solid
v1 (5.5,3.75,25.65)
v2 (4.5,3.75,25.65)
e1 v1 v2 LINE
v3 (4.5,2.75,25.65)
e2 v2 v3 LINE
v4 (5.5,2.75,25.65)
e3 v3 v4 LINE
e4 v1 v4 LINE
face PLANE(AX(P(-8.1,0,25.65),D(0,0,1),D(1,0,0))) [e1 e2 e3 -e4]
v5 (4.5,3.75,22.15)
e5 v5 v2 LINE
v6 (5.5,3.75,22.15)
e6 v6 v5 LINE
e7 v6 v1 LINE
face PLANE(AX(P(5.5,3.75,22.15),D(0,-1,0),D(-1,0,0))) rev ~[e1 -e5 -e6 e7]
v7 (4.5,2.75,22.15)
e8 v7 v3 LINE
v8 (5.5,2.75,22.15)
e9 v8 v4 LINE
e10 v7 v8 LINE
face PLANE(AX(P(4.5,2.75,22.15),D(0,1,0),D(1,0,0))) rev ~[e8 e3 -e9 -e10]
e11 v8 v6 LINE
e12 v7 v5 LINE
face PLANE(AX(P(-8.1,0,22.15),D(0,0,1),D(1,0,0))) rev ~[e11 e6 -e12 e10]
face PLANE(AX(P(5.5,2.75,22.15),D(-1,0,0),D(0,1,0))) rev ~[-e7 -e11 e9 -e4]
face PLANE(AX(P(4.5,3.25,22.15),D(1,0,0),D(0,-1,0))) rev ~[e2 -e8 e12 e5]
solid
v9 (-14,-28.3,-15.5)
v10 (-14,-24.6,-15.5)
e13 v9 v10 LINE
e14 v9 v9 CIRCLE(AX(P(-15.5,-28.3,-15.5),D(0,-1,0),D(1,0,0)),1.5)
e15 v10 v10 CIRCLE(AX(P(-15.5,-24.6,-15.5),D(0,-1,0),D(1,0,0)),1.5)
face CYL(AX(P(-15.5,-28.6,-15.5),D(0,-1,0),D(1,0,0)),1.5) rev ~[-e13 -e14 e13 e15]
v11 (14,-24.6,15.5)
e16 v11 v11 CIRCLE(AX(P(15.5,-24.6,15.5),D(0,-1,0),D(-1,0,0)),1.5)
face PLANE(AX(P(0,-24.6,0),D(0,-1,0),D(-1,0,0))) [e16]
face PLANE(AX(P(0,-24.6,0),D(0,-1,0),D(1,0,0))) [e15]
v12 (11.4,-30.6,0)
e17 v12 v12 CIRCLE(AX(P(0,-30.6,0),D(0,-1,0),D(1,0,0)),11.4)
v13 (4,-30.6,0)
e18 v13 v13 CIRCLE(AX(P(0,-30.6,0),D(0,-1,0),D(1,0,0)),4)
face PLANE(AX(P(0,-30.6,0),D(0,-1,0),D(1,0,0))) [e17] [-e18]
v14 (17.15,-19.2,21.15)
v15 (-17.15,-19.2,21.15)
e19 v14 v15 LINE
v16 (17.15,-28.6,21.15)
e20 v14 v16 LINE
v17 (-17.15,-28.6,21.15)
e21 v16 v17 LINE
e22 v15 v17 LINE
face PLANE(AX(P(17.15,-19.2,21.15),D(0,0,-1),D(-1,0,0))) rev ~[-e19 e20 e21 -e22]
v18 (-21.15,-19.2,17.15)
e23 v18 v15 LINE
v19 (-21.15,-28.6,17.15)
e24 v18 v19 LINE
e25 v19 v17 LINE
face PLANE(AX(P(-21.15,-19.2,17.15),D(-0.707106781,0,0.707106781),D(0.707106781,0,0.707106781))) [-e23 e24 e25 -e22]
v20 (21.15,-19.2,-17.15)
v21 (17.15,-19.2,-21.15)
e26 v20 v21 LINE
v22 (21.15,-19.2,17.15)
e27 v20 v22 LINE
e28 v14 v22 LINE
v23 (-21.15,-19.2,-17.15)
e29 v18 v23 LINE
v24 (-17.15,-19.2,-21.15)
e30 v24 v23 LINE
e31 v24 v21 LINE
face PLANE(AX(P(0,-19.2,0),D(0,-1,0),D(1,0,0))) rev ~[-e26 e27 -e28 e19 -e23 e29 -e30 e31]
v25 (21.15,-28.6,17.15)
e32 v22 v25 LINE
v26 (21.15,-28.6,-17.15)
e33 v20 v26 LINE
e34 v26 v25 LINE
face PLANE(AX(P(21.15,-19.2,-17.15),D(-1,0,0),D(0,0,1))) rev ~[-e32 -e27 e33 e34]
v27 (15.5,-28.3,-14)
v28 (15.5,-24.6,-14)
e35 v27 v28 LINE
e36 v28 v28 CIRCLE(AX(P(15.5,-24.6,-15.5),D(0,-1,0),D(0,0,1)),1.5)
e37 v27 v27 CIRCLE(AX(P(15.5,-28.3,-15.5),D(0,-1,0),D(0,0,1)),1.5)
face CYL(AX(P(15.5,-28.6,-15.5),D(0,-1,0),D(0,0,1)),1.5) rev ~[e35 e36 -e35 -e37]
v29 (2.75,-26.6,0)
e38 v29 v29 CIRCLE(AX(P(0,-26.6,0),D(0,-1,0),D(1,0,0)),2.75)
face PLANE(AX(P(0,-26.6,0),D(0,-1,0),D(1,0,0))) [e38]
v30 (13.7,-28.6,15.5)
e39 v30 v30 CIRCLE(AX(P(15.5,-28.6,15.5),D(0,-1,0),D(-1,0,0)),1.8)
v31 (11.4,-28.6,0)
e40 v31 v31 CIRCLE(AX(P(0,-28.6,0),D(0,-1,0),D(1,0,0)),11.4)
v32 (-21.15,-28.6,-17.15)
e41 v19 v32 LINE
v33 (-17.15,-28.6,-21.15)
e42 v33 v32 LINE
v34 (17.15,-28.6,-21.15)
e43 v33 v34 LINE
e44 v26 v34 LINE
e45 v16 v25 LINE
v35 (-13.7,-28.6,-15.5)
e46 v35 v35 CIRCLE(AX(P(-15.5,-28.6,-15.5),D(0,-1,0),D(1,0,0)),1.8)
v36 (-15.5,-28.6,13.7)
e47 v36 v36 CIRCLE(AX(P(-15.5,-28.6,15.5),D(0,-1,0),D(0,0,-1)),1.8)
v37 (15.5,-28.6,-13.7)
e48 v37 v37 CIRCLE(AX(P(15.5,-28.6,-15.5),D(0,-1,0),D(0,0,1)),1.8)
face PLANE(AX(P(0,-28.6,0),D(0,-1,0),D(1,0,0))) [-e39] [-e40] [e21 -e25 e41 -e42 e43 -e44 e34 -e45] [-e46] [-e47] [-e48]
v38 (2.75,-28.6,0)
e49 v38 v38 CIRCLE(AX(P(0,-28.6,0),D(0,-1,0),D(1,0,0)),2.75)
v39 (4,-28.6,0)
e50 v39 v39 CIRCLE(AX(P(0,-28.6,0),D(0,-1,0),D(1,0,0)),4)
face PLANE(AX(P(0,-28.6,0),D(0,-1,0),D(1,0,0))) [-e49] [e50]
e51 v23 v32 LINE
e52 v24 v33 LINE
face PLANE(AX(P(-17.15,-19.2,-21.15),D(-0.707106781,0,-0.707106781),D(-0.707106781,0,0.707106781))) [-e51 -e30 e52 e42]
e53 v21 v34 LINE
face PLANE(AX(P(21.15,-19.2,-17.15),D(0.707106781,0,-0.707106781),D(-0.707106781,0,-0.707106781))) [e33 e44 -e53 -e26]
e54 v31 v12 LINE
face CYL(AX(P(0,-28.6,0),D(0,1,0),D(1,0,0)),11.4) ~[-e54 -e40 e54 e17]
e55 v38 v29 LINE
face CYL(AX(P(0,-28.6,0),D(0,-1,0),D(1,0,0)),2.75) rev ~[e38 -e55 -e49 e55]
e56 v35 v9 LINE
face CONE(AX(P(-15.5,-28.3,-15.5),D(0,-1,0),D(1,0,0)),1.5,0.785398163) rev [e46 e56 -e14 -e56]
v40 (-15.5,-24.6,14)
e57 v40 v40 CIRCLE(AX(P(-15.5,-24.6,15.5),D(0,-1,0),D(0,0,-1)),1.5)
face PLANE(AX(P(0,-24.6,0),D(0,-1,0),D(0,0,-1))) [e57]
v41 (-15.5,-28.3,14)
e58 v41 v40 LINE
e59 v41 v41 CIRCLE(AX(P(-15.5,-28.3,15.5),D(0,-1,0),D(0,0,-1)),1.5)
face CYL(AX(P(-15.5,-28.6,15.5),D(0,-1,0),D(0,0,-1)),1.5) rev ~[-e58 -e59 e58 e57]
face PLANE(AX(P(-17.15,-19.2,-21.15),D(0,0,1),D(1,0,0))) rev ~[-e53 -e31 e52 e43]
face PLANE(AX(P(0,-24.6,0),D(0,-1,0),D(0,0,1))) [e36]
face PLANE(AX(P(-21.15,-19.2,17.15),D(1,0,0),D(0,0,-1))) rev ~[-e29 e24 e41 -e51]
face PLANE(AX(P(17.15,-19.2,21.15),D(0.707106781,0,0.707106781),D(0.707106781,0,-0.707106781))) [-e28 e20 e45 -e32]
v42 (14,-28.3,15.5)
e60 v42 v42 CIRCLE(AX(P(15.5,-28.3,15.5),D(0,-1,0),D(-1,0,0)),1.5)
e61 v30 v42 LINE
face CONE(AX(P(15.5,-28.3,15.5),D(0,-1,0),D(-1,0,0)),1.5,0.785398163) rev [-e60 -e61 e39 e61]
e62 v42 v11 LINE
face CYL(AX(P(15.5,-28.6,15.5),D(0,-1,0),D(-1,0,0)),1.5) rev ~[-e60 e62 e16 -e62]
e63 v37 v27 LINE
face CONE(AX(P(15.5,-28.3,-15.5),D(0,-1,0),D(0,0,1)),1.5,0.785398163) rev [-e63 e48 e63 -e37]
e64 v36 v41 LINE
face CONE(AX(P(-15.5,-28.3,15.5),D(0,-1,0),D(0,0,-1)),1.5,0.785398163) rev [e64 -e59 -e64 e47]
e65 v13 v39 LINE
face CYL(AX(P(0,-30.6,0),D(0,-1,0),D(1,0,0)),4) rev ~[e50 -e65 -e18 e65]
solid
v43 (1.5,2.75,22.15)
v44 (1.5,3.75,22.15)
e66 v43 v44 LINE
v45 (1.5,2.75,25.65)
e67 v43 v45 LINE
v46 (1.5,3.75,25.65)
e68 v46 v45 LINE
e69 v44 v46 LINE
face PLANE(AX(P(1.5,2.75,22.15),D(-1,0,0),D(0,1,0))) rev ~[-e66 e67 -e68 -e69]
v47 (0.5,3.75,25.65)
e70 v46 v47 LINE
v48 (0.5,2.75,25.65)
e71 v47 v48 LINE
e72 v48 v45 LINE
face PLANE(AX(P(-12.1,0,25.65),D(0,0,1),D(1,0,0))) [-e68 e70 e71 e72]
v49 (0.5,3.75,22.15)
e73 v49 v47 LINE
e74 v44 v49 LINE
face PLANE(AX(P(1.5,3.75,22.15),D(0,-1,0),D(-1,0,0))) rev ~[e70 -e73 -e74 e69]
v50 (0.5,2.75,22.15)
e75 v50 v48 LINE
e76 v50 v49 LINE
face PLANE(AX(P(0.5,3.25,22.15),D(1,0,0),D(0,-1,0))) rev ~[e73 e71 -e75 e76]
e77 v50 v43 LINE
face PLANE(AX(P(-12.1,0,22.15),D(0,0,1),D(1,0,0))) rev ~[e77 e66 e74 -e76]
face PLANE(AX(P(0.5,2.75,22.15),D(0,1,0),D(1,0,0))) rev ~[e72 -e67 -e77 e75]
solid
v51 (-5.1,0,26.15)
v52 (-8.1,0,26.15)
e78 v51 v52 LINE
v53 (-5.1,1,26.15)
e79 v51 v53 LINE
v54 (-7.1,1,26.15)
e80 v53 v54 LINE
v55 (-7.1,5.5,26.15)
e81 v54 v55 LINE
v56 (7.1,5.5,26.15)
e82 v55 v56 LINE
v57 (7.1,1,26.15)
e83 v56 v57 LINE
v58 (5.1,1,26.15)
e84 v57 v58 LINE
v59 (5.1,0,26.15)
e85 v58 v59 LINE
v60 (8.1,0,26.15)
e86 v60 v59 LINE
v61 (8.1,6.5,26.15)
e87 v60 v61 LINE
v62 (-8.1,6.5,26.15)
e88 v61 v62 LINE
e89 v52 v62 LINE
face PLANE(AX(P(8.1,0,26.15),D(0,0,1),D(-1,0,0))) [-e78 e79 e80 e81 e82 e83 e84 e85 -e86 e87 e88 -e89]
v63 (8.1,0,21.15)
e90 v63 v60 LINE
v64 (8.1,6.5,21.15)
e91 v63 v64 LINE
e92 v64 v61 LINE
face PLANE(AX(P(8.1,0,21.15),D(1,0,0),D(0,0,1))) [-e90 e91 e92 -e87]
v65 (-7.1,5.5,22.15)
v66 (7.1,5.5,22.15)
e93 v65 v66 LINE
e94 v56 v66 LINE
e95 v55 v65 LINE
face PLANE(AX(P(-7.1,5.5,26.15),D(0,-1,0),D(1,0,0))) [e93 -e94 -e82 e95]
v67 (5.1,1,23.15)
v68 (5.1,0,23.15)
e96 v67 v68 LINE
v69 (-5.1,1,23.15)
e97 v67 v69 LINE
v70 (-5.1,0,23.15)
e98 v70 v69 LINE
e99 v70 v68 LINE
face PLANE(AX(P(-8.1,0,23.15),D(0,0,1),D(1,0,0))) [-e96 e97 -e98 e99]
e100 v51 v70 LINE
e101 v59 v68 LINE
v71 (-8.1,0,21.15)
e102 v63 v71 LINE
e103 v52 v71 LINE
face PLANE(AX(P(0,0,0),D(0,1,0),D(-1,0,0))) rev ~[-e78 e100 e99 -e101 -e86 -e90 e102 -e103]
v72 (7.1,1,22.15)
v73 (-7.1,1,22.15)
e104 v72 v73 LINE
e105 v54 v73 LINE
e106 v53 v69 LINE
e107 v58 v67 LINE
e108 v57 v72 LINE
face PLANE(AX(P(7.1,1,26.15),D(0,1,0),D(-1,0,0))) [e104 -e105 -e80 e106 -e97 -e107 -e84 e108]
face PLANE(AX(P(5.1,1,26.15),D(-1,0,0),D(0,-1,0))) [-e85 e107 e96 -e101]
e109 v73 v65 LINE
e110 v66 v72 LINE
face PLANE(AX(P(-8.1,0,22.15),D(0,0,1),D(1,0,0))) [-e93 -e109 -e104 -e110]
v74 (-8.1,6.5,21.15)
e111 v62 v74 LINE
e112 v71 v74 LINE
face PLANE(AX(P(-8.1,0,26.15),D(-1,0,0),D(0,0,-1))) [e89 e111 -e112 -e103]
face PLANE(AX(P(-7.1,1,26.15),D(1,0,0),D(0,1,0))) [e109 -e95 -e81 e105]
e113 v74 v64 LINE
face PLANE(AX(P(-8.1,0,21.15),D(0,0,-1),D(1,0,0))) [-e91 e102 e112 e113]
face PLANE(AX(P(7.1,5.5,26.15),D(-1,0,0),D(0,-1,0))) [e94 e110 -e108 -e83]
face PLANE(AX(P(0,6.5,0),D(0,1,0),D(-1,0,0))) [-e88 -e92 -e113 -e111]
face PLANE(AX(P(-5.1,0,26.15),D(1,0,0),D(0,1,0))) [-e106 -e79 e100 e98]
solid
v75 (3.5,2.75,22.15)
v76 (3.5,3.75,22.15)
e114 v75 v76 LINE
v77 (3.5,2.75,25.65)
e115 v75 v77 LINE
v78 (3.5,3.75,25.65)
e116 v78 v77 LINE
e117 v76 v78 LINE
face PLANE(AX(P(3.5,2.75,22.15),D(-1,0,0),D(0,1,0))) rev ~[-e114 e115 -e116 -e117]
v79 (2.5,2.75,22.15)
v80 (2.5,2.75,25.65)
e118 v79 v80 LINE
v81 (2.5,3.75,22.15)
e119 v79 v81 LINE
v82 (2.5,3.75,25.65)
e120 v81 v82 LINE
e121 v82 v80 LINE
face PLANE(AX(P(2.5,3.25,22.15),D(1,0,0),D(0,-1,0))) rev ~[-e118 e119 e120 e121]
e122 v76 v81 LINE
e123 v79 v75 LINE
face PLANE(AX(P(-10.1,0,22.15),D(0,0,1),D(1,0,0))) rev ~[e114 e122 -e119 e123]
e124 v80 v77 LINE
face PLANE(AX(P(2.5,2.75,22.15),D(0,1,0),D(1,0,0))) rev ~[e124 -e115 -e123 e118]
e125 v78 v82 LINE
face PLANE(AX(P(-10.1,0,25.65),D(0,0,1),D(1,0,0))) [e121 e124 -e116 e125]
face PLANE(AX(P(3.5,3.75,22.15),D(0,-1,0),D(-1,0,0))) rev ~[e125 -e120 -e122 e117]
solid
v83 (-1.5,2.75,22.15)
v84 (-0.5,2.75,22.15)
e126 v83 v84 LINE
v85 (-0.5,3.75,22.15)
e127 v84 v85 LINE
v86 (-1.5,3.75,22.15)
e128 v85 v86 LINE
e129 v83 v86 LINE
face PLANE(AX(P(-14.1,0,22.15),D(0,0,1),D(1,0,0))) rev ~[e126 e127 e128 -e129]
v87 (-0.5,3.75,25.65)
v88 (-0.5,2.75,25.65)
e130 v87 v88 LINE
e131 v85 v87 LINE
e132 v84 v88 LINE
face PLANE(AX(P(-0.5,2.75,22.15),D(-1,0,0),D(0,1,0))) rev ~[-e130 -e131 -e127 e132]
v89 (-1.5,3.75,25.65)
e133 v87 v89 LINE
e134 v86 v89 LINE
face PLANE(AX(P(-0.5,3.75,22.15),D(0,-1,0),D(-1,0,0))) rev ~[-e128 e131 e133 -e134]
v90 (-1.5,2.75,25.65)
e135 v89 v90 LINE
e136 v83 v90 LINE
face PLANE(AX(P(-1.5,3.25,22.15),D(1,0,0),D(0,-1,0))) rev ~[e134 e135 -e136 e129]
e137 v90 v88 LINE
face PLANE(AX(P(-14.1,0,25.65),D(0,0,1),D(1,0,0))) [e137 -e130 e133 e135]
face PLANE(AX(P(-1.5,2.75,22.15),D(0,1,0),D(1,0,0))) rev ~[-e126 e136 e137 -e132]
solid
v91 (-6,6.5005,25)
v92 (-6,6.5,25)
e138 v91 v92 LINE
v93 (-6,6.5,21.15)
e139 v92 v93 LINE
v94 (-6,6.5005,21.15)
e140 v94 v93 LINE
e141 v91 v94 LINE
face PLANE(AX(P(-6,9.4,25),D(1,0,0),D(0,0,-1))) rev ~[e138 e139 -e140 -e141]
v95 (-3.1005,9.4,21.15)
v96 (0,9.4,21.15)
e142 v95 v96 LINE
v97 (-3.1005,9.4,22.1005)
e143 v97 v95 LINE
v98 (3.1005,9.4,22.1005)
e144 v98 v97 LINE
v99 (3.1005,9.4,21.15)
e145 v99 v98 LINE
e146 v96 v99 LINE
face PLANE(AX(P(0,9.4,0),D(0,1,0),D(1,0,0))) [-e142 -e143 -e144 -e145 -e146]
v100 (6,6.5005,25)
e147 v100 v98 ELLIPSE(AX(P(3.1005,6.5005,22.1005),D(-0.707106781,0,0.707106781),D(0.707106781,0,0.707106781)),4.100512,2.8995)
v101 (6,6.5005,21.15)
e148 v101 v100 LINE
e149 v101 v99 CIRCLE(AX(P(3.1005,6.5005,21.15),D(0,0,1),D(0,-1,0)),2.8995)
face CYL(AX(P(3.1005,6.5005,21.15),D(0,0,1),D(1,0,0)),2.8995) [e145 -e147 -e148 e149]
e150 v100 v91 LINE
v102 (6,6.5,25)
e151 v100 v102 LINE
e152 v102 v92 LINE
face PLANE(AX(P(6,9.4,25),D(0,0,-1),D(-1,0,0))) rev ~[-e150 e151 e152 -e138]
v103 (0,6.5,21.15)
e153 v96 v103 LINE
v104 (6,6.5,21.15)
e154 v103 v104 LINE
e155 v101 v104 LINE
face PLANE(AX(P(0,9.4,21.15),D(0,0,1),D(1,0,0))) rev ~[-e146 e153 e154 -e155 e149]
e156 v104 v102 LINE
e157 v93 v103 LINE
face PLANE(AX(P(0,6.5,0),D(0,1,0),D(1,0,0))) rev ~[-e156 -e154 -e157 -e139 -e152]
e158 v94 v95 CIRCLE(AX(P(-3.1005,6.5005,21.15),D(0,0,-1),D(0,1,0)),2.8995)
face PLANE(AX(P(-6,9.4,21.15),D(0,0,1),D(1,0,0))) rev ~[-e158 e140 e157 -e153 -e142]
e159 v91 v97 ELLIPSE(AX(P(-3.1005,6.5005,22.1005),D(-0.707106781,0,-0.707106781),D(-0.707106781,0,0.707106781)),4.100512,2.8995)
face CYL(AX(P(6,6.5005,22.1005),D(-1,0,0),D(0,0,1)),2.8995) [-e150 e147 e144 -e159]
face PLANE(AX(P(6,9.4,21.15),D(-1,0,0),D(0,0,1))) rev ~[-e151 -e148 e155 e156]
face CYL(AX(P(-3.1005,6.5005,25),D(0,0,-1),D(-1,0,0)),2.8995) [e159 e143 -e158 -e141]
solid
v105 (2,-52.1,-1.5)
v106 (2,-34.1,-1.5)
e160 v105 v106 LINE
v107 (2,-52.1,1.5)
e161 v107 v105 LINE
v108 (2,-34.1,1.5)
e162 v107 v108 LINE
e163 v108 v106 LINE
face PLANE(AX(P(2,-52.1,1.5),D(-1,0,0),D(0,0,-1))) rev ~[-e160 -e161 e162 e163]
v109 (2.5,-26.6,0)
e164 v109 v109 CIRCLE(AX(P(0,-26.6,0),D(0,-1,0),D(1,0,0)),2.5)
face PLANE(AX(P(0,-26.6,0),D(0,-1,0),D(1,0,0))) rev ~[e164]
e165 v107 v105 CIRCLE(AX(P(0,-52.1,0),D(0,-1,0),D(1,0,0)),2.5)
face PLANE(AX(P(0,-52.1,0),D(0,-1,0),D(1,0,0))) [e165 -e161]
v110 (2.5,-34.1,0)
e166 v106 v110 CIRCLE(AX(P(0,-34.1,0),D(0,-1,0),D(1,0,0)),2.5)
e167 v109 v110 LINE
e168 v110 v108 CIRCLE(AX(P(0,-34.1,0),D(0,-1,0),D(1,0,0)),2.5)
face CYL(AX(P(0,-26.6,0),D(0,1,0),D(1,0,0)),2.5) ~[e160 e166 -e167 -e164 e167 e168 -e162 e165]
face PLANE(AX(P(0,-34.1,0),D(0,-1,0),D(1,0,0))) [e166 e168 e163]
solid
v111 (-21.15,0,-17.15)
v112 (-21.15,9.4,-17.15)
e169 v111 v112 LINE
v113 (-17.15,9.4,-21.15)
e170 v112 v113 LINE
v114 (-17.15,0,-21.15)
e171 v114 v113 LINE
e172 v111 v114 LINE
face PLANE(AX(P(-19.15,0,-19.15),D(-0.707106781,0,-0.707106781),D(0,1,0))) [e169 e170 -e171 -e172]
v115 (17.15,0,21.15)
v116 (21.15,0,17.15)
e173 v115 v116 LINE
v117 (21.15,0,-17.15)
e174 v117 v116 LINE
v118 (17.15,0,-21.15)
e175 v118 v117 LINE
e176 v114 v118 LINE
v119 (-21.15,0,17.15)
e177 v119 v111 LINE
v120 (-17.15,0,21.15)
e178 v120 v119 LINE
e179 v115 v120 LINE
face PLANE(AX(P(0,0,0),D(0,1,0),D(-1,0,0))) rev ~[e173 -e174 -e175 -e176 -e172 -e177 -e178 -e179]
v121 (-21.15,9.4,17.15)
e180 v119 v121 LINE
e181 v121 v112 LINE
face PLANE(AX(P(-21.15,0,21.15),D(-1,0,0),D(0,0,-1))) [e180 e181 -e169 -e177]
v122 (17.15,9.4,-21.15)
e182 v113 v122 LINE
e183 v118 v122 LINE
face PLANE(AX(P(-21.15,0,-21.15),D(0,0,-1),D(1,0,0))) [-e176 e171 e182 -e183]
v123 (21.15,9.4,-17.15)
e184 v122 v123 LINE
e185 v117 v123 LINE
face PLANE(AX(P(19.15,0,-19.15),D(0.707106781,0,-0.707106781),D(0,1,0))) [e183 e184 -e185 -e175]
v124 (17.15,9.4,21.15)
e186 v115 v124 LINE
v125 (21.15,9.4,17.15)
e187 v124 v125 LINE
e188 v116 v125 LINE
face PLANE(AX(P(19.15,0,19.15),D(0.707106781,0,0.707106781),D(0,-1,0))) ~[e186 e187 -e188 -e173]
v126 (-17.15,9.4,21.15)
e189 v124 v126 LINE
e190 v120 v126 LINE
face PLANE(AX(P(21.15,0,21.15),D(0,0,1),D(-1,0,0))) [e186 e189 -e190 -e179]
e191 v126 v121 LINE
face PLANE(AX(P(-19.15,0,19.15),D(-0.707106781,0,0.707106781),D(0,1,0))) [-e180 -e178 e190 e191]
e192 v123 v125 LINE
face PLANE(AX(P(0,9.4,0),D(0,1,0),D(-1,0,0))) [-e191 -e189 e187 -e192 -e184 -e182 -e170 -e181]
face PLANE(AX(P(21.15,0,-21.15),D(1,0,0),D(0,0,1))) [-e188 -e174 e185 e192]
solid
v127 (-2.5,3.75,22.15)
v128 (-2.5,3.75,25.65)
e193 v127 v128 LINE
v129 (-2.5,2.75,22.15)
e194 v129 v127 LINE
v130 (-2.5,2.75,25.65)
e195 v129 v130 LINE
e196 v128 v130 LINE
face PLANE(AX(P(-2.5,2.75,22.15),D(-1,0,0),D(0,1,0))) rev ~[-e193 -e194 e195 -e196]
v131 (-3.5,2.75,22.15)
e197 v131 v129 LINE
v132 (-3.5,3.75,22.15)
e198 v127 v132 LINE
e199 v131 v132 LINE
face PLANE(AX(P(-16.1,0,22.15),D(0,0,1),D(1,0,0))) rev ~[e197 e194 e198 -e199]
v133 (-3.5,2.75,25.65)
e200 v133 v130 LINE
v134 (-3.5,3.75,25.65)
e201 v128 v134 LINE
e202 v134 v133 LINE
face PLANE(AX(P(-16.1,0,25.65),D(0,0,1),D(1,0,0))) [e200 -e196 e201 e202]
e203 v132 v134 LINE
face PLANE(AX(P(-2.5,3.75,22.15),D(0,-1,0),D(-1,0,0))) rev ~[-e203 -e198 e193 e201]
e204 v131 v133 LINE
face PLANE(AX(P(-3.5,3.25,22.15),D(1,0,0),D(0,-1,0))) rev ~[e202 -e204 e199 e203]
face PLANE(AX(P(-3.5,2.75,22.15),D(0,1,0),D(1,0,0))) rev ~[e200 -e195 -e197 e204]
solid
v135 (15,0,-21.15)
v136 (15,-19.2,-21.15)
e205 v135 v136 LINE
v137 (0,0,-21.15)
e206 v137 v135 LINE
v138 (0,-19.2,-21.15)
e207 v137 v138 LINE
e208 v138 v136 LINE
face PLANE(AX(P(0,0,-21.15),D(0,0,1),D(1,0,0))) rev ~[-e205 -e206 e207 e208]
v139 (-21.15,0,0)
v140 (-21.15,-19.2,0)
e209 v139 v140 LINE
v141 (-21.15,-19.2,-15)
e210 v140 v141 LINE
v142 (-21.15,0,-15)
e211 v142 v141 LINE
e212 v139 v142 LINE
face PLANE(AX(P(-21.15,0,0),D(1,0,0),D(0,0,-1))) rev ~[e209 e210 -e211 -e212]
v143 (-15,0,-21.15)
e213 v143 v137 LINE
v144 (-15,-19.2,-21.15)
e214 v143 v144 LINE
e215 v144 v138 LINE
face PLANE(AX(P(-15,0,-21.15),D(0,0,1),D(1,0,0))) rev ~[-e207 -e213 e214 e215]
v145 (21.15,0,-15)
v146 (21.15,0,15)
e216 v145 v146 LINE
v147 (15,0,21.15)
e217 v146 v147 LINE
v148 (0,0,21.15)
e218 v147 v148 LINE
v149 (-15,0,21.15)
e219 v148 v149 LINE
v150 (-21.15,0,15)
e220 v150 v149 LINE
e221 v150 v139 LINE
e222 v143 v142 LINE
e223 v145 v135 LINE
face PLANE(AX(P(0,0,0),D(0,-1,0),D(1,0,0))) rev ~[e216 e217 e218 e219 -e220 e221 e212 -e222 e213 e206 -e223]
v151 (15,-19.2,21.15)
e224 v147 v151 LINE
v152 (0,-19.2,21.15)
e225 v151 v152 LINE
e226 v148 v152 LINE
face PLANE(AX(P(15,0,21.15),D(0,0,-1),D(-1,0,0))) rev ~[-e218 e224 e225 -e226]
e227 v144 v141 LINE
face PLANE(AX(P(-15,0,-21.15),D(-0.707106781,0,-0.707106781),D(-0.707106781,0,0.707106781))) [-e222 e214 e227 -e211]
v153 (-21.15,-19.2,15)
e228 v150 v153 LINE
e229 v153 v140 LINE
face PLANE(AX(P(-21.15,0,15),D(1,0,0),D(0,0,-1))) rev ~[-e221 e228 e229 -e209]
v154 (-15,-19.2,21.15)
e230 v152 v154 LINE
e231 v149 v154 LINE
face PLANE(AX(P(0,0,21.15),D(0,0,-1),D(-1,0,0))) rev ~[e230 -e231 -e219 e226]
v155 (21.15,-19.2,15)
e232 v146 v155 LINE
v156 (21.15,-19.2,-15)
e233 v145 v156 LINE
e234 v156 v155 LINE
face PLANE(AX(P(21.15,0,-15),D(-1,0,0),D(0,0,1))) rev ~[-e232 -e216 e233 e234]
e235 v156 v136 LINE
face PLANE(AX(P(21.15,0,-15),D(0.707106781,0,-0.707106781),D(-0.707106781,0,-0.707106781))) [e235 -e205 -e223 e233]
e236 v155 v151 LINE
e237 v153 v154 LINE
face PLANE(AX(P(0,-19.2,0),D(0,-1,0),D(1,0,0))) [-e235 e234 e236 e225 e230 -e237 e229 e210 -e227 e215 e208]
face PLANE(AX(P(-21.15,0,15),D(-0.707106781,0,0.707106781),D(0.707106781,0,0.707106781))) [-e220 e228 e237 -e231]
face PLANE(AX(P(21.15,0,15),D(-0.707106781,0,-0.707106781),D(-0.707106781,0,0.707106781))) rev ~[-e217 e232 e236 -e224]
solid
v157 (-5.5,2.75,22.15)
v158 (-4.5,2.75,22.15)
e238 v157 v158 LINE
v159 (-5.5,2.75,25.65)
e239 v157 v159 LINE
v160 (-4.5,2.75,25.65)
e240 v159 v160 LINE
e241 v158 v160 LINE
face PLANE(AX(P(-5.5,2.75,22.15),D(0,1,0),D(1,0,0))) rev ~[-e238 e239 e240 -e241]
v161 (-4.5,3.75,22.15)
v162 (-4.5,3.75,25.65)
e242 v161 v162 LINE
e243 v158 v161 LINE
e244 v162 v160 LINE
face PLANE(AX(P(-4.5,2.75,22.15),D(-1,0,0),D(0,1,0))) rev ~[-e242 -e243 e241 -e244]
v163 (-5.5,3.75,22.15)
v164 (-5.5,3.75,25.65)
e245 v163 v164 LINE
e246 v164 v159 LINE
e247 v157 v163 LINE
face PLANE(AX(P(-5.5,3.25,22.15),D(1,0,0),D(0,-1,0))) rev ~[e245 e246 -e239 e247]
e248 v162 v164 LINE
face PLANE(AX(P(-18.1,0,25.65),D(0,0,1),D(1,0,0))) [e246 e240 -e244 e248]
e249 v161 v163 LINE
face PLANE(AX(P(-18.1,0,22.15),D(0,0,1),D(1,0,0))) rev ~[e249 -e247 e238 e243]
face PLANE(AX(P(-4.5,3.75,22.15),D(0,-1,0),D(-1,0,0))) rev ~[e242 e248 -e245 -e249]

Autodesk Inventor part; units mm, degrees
ref_plane "YZ Plane" through (0, 0, 0) normal (1, 0, 0) x (0, 1, 0)
ref_plane "XZ Plane" through (0, 0, 0) normal (0, 1, 0) x (-1, 0, 0)
ref_plane "XY Plane" through (0, 0, 0) normal (0, 0, 1) x (1, 0, 0)
sketch "Szkic1" plane through (0, 0, 0) normal (0, 1, 0) x (-1, 0, 0)
  line L0 (-21.15, 21.15) -> (21.15, 21.15)
  line L1 (21.15, 21.15) -> (21.15, -21.15)
  line L2 (21.15, -21.15) -> (-21.15, -21.15)
  line L3 (-21.15, -21.15) -> (-21.15, 21.15)
  line L4 (-21.15, 21.15) -> (21.15, -21.15) construction
  line L5 (21.15, 21.15) -> (-21.15, -21.15) construction
  point P0 (0, 0)
  dimension "d0" = 42.3
  dimension "d1" = 42.3
extrude "Wyciągnięcie proste1" add sketch "Szkic1" along normal blind 9.4
chamfer "Faza1" distance 4 angle 45 4 edges at (21.15, 4.7, 21.15) (-21.15, 4.7, 21.15) (-21.15, 4.7, -21.15) (21.15, 4.7, -21.15)
sketch "Szkic2" plane through (0, 0, 0) normal (0, -1, 0) x (1, 0, 0)
  line L0 (21.15, -17.15) -> (17.15, -21.15) projected
  line L1 (21.15, -17.15) -> (21.15, 17.15) projected
  line L2 (17.15, 21.15) -> (21.15, 17.15) projected
  line L3 (17.15, 21.15) -> (-17.15, 21.15) projected
  line L4 (-21.15, 17.15) -> (-17.15, 21.15) projected
  line L5 (-21.15, 17.15) -> (-21.15, -17.15) projected
  line L6 (-17.15, -21.15) -> (-21.15, -17.15) projected
  line L7 (-17.15, -21.15) -> (17.15, -21.15) projected
  line L8 (21.15, -17.15) -> (21.15, 17.15) projected
  line L9 (21.15, 15) -> (21.15, -15)
  line L10 (17.15, -21.15) -> (-17.15, -21.15) projected
  line L11 (0, -21.15) -> (15, -21.15)
  line L12 (0, -21.15) -> (-15, -21.15)
  line L13 (-21.15, -17.15) -> (-21.15, 17.15) projected
  line L14 (-21.15, 0) -> (-21.15, -15)
  line L15 (-21.15, 0) -> (-21.15, 15)
  line L16 (-17.15, 21.15) -> (17.15, 21.15) projected
  line L17 (0, 21.15) -> (-15, 21.15)
  line L18 (0, 21.15) -> (15, 21.15)
  line L19 (21.15, 15) -> (15, 21.15)
  line L20 (21.15, -15) -> (15, -21.15)
  line L21 (-15, -21.15) -> (-21.15, -15)
  line L22 (-21.15, 15) -> (-15, 21.15)
  point P0 (0, 0)
extrude "Wyciągnięcie proste2" add sketch "Szkic2" along normal blind 19.2 separate body contours L20 L7 L21 L5 L22 L3 L19 L1
sketch "Szkic3" plane through (0, -19.2, 0) normal (0, -1, 0) x (1, 0, 0)
  line L0 (21.15, -17.15) -> (17.15, -21.15) projected
  line L1 (21.15, -17.15) -> (21.15, 17.15) projected
  line L2 (17.15, 21.15) -> (21.15, 17.15) projected
  line L3 (17.15, 21.15) -> (-17.15, 21.15) projected
  line L4 (-21.15, 17.15) -> (-17.15, 21.15) projected
  line L5 (-21.15, 17.15) -> (-21.15, -17.15) projected
  line L6 (-17.15, -21.15) -> (-21.15, -17.15) projected
  line L7 (-17.15, -21.15) -> (17.15, -21.15) projected
  point P0 (0, 0)
extrude "Wyciągnięcie proste3" add sketch "Szkic3" along normal blind 9.4 separate body
sketch "Szkic4" plane through (0, -28.6, 0) normal (0, -1, 0) x (1, 0, 0)
  circle A0 centre (0, 0) radius 11.4
  dimension "d11" = 22.8
extrude "Wyciągnięcie proste4" add sketch "Szkic4" along normal blind 2 bodies 3
sketch "Szkic5" plane through (0, -30.6, 0) normal (0, -1, 0) x (1, 0, 0)
  circle A0 centre (0, 0) radius 4
  dimension "d14" = 8
extrude "Wyciągnięcie proste5" cut sketch "Szkic5" against normal blind 2 bodies 3
sketch "Szkic6" plane through (0, -28.6, 0) normal (0, -1, 0) x (1, 0, 0)
  circle A0 centre (0, 0) radius 2.75
  dimension "d17" = 5.5
extrude "Wyciągnięcie proste6" cut sketch "Szkic6" against normal blind 2 bodies 3
sketch "Szkic7" plane through (0, -26.6, 0) normal (0, -1, 0) x (1, 0, 0)
  circle A0 centre (0, 0) radius 2.5
  dimension "d20" = 5
extrude "Wyciągnięcie proste7" add sketch "Szkic7" along normal blind 25.5 separate body
sketch "Szkic8" plane through (0, -52.1, 0) normal (0, -1, 0) x (1, 0, 0)
  circle A0 centre (0, 0) radius 2.5 projected
  line L0 (2, 1.5) -> (2, -1.5)
  dimension "d23" = 4.5
extrude "Wyciągnięcie proste8" cut sketch "Szkic8" against normal blind 18 contours A0 L0 picked at (2.0912, -0.3466) bodies 4
sketch "Szkic9" plane through (0, -28.6, 0) normal (0, -1, 0) x (1, 0, 0)
  circle A0 centre (-15.5, -15.5) radius 1.5
  arc A1 (2, 1.5) -> (2, -1.5) centre (0, 0) ccw projected
  dimension "d26" = 3
  dimension "d27" = 15.5
  dimension "d28" = 15.5
extrude "Wyciągnięcie proste9" cut sketch "Szkic9" against normal blind 4 bodies 3
pattern_circular "Szyk kołowy1" count 4 over 360 about axis through (0, -26.6, 0) along (0, -1, 0) of "Wyciągnięcie proste9" bodies 3
thread "Gwint1" size "M3x0.5" class "6H" standard "ANSI Metric M Profile" full length
thread "Gwint2" size "M3x0.5" class "6H" standard "ANSI Metric M Profile" full length
thread "Gwint3" size "M3x0.5" class "6H" standard "ANSI Metric M Profile" full length
thread "Gwint4" size "M3x0.5" class "6H" standard "ANSI Metric M Profile" full length
chamfer "Faza2" distance 0.3 angle 45 4 edges at (-17, -28.6, -15.5) (-15.5, -28.6, 17) (15.5, -28.6, -17) (17, -28.6, 15.5)
sketch "Szkic10" plane through (0, 0, 0) normal (0, 1, 0) x (-1, 0, 0)
  line L0 (17.15, 21.15) -> (-17.15, 21.15) projected
  line L1 (0, 21.15) -> (-8.1, 21.15)
  line L2 (-8.1, 21.15) -> (-8.1, 26.15)
  line L3 (-8.1, 26.15) -> (8.1, 26.15)
  line L4 (8.1, 26.15) -> (8.1, 21.15)
  line L5 (0, 21.15) -> (8.1, 21.15)
  point P0 (0, 0)
  dimension "d45" = 8.1
  dimension "d46" = 5
  dimension "d47" = 16.2
extrude "Wyciągnięcie proste10" add sketch "Szkic10" along normal blind 6.5 separate body
sketch "Szkic11" plane through (0, 9.4, 0) normal (0, 1, 0) x (1, 0, 0)
  line L0 (-17.15, -21.15) -> (17.15, -21.15) projected
  line L1 (0, -21.15) -> (6, -21.15)
  line L2 (6, -21.15) -> (6, -25)
  line L3 (6, -25) -> (-6, -25)
  line L4 (-6, -25) -> (-6, -21.15)
  line L5 (-6, -21.15) -> (0, -21.15)
  point P0 (0, 0)
  dimension "d50" = 3.85
  dimension "d51" = 12
  dimension "d52" = 11.15
extrude "Wyciągnięcie proste11" add sketch "Szkic11" against normal blind 2.9 separate body
fillet "Zaokrąglenie1" radius 2.9 3 edges at (6, 9.4, 23.075) (0, 9.4, 25) (-6, 9.4, 23.075)
sketch "Szkic12" plane through (-8.1, 0, 26.15) normal (0, 0, 1) x (1, 0, 0)
  line L0 (0, 0) -> (16.2, 0) projected
  line L1 (16.2, 0) -> (16.2, 6.5) projected
  line L2 (0, 6.5) -> (16.2, 6.5) projected
  line L3 (0, 0) -> (0, 6.5) projected
  line L4 (15.2, 1) -> (1, 1)
  line L5 (1, 1) -> (1, 5.5)
  line L6 (1, 5.5) -> (15.2, 5.5)
  line L7 (15.2, 5.5) -> (15.2, 1)
  point P0 (8.1, 0)
  dimension "d56" = 1
extrude "Wyciągnięcie proste12" cut sketch "Szkic12" against normal blind 4 contours L4 L5 L6 L7 bodies 5
sketch "Szkic13" plane through (-8.1, 0, 26.15) normal (0, 0, 1) x (1, 0, 0)
  line L0 (0, 0) -> (16.2, 0) projected
  line L1 (-6.9, 0) -> (23.1, 0) projected
  line L2 (15.2, 1) -> (1, 1) projected
  line L3 (13.2, 0) -> (3, 0)
  line L4 (3, 0) -> (3, 1)
  line L5 (3, 1) -> (13.2, 1)
  line L6 (13.2, 1) -> (13.2, 0)
  line L7 (15.2, 5.5) -> (15.2, 1) projected
  line L8 (1, 1) -> (1, 5.5) projected
  point P0 (8.1, 0)
  dimension "d59" = 2
  dimension "d60" = 2
extrude "Wyciągnięcie proste13" cut sketch "Szkic13" against normal blind 3 bodies 5
sketch "Szkic14" plane through (-8.1, 0, 22.15) normal (0, 0, 1) x (1, 0, 0)
  line L0 (15.2, 1) -> (13.2, 1) projected
  line L1 (15.2, 5.5) -> (15.2, 1) projected
  line L2 (15.2, 1) -> (1, 1) projected
  line L3 (15.2, 5.5) -> (15.2, 1) projected
  line L4 (1, 5.5) -> (15.2, 5.5) projected
  line L5 (1, 1) -> (1, 5.5) projected
  line L6 (15.2, 3.25) -> (1, 3.25)
  line L7 (13.6, 3.75) -> (12.6, 3.75)
  line L8 (12.6, 3.75) -> (12.6, 2.75)
  line L9 (12.6, 2.75) -> (13.6, 2.75)
  line L10 (13.6, 2.75) -> (13.6, 3.75)
  line L11 (13.6, 3.75) -> (12.6, 2.75) construction
  line L12 (12.6, 3.75) -> (13.6, 2.75) construction
  point P0 (8.1, 0)
  point P1 (13.1, 3.25)
  dimension "d63" = 1
  dimension "d64" = 2.1
  dimension "d65" = 1
extrude "Wyciągnięcie proste14" add sketch "Szkic14" along normal blind 3.5 separate body contours L10 L9 L8 L6 | L6 L8 L7 L10
pattern_linear "Szyk prostokątny1" count 6 spacing 2 along (-1, 0, 0) of "Wyciągnięcie proste14" bodies 7
properties part number "Nema_17"
